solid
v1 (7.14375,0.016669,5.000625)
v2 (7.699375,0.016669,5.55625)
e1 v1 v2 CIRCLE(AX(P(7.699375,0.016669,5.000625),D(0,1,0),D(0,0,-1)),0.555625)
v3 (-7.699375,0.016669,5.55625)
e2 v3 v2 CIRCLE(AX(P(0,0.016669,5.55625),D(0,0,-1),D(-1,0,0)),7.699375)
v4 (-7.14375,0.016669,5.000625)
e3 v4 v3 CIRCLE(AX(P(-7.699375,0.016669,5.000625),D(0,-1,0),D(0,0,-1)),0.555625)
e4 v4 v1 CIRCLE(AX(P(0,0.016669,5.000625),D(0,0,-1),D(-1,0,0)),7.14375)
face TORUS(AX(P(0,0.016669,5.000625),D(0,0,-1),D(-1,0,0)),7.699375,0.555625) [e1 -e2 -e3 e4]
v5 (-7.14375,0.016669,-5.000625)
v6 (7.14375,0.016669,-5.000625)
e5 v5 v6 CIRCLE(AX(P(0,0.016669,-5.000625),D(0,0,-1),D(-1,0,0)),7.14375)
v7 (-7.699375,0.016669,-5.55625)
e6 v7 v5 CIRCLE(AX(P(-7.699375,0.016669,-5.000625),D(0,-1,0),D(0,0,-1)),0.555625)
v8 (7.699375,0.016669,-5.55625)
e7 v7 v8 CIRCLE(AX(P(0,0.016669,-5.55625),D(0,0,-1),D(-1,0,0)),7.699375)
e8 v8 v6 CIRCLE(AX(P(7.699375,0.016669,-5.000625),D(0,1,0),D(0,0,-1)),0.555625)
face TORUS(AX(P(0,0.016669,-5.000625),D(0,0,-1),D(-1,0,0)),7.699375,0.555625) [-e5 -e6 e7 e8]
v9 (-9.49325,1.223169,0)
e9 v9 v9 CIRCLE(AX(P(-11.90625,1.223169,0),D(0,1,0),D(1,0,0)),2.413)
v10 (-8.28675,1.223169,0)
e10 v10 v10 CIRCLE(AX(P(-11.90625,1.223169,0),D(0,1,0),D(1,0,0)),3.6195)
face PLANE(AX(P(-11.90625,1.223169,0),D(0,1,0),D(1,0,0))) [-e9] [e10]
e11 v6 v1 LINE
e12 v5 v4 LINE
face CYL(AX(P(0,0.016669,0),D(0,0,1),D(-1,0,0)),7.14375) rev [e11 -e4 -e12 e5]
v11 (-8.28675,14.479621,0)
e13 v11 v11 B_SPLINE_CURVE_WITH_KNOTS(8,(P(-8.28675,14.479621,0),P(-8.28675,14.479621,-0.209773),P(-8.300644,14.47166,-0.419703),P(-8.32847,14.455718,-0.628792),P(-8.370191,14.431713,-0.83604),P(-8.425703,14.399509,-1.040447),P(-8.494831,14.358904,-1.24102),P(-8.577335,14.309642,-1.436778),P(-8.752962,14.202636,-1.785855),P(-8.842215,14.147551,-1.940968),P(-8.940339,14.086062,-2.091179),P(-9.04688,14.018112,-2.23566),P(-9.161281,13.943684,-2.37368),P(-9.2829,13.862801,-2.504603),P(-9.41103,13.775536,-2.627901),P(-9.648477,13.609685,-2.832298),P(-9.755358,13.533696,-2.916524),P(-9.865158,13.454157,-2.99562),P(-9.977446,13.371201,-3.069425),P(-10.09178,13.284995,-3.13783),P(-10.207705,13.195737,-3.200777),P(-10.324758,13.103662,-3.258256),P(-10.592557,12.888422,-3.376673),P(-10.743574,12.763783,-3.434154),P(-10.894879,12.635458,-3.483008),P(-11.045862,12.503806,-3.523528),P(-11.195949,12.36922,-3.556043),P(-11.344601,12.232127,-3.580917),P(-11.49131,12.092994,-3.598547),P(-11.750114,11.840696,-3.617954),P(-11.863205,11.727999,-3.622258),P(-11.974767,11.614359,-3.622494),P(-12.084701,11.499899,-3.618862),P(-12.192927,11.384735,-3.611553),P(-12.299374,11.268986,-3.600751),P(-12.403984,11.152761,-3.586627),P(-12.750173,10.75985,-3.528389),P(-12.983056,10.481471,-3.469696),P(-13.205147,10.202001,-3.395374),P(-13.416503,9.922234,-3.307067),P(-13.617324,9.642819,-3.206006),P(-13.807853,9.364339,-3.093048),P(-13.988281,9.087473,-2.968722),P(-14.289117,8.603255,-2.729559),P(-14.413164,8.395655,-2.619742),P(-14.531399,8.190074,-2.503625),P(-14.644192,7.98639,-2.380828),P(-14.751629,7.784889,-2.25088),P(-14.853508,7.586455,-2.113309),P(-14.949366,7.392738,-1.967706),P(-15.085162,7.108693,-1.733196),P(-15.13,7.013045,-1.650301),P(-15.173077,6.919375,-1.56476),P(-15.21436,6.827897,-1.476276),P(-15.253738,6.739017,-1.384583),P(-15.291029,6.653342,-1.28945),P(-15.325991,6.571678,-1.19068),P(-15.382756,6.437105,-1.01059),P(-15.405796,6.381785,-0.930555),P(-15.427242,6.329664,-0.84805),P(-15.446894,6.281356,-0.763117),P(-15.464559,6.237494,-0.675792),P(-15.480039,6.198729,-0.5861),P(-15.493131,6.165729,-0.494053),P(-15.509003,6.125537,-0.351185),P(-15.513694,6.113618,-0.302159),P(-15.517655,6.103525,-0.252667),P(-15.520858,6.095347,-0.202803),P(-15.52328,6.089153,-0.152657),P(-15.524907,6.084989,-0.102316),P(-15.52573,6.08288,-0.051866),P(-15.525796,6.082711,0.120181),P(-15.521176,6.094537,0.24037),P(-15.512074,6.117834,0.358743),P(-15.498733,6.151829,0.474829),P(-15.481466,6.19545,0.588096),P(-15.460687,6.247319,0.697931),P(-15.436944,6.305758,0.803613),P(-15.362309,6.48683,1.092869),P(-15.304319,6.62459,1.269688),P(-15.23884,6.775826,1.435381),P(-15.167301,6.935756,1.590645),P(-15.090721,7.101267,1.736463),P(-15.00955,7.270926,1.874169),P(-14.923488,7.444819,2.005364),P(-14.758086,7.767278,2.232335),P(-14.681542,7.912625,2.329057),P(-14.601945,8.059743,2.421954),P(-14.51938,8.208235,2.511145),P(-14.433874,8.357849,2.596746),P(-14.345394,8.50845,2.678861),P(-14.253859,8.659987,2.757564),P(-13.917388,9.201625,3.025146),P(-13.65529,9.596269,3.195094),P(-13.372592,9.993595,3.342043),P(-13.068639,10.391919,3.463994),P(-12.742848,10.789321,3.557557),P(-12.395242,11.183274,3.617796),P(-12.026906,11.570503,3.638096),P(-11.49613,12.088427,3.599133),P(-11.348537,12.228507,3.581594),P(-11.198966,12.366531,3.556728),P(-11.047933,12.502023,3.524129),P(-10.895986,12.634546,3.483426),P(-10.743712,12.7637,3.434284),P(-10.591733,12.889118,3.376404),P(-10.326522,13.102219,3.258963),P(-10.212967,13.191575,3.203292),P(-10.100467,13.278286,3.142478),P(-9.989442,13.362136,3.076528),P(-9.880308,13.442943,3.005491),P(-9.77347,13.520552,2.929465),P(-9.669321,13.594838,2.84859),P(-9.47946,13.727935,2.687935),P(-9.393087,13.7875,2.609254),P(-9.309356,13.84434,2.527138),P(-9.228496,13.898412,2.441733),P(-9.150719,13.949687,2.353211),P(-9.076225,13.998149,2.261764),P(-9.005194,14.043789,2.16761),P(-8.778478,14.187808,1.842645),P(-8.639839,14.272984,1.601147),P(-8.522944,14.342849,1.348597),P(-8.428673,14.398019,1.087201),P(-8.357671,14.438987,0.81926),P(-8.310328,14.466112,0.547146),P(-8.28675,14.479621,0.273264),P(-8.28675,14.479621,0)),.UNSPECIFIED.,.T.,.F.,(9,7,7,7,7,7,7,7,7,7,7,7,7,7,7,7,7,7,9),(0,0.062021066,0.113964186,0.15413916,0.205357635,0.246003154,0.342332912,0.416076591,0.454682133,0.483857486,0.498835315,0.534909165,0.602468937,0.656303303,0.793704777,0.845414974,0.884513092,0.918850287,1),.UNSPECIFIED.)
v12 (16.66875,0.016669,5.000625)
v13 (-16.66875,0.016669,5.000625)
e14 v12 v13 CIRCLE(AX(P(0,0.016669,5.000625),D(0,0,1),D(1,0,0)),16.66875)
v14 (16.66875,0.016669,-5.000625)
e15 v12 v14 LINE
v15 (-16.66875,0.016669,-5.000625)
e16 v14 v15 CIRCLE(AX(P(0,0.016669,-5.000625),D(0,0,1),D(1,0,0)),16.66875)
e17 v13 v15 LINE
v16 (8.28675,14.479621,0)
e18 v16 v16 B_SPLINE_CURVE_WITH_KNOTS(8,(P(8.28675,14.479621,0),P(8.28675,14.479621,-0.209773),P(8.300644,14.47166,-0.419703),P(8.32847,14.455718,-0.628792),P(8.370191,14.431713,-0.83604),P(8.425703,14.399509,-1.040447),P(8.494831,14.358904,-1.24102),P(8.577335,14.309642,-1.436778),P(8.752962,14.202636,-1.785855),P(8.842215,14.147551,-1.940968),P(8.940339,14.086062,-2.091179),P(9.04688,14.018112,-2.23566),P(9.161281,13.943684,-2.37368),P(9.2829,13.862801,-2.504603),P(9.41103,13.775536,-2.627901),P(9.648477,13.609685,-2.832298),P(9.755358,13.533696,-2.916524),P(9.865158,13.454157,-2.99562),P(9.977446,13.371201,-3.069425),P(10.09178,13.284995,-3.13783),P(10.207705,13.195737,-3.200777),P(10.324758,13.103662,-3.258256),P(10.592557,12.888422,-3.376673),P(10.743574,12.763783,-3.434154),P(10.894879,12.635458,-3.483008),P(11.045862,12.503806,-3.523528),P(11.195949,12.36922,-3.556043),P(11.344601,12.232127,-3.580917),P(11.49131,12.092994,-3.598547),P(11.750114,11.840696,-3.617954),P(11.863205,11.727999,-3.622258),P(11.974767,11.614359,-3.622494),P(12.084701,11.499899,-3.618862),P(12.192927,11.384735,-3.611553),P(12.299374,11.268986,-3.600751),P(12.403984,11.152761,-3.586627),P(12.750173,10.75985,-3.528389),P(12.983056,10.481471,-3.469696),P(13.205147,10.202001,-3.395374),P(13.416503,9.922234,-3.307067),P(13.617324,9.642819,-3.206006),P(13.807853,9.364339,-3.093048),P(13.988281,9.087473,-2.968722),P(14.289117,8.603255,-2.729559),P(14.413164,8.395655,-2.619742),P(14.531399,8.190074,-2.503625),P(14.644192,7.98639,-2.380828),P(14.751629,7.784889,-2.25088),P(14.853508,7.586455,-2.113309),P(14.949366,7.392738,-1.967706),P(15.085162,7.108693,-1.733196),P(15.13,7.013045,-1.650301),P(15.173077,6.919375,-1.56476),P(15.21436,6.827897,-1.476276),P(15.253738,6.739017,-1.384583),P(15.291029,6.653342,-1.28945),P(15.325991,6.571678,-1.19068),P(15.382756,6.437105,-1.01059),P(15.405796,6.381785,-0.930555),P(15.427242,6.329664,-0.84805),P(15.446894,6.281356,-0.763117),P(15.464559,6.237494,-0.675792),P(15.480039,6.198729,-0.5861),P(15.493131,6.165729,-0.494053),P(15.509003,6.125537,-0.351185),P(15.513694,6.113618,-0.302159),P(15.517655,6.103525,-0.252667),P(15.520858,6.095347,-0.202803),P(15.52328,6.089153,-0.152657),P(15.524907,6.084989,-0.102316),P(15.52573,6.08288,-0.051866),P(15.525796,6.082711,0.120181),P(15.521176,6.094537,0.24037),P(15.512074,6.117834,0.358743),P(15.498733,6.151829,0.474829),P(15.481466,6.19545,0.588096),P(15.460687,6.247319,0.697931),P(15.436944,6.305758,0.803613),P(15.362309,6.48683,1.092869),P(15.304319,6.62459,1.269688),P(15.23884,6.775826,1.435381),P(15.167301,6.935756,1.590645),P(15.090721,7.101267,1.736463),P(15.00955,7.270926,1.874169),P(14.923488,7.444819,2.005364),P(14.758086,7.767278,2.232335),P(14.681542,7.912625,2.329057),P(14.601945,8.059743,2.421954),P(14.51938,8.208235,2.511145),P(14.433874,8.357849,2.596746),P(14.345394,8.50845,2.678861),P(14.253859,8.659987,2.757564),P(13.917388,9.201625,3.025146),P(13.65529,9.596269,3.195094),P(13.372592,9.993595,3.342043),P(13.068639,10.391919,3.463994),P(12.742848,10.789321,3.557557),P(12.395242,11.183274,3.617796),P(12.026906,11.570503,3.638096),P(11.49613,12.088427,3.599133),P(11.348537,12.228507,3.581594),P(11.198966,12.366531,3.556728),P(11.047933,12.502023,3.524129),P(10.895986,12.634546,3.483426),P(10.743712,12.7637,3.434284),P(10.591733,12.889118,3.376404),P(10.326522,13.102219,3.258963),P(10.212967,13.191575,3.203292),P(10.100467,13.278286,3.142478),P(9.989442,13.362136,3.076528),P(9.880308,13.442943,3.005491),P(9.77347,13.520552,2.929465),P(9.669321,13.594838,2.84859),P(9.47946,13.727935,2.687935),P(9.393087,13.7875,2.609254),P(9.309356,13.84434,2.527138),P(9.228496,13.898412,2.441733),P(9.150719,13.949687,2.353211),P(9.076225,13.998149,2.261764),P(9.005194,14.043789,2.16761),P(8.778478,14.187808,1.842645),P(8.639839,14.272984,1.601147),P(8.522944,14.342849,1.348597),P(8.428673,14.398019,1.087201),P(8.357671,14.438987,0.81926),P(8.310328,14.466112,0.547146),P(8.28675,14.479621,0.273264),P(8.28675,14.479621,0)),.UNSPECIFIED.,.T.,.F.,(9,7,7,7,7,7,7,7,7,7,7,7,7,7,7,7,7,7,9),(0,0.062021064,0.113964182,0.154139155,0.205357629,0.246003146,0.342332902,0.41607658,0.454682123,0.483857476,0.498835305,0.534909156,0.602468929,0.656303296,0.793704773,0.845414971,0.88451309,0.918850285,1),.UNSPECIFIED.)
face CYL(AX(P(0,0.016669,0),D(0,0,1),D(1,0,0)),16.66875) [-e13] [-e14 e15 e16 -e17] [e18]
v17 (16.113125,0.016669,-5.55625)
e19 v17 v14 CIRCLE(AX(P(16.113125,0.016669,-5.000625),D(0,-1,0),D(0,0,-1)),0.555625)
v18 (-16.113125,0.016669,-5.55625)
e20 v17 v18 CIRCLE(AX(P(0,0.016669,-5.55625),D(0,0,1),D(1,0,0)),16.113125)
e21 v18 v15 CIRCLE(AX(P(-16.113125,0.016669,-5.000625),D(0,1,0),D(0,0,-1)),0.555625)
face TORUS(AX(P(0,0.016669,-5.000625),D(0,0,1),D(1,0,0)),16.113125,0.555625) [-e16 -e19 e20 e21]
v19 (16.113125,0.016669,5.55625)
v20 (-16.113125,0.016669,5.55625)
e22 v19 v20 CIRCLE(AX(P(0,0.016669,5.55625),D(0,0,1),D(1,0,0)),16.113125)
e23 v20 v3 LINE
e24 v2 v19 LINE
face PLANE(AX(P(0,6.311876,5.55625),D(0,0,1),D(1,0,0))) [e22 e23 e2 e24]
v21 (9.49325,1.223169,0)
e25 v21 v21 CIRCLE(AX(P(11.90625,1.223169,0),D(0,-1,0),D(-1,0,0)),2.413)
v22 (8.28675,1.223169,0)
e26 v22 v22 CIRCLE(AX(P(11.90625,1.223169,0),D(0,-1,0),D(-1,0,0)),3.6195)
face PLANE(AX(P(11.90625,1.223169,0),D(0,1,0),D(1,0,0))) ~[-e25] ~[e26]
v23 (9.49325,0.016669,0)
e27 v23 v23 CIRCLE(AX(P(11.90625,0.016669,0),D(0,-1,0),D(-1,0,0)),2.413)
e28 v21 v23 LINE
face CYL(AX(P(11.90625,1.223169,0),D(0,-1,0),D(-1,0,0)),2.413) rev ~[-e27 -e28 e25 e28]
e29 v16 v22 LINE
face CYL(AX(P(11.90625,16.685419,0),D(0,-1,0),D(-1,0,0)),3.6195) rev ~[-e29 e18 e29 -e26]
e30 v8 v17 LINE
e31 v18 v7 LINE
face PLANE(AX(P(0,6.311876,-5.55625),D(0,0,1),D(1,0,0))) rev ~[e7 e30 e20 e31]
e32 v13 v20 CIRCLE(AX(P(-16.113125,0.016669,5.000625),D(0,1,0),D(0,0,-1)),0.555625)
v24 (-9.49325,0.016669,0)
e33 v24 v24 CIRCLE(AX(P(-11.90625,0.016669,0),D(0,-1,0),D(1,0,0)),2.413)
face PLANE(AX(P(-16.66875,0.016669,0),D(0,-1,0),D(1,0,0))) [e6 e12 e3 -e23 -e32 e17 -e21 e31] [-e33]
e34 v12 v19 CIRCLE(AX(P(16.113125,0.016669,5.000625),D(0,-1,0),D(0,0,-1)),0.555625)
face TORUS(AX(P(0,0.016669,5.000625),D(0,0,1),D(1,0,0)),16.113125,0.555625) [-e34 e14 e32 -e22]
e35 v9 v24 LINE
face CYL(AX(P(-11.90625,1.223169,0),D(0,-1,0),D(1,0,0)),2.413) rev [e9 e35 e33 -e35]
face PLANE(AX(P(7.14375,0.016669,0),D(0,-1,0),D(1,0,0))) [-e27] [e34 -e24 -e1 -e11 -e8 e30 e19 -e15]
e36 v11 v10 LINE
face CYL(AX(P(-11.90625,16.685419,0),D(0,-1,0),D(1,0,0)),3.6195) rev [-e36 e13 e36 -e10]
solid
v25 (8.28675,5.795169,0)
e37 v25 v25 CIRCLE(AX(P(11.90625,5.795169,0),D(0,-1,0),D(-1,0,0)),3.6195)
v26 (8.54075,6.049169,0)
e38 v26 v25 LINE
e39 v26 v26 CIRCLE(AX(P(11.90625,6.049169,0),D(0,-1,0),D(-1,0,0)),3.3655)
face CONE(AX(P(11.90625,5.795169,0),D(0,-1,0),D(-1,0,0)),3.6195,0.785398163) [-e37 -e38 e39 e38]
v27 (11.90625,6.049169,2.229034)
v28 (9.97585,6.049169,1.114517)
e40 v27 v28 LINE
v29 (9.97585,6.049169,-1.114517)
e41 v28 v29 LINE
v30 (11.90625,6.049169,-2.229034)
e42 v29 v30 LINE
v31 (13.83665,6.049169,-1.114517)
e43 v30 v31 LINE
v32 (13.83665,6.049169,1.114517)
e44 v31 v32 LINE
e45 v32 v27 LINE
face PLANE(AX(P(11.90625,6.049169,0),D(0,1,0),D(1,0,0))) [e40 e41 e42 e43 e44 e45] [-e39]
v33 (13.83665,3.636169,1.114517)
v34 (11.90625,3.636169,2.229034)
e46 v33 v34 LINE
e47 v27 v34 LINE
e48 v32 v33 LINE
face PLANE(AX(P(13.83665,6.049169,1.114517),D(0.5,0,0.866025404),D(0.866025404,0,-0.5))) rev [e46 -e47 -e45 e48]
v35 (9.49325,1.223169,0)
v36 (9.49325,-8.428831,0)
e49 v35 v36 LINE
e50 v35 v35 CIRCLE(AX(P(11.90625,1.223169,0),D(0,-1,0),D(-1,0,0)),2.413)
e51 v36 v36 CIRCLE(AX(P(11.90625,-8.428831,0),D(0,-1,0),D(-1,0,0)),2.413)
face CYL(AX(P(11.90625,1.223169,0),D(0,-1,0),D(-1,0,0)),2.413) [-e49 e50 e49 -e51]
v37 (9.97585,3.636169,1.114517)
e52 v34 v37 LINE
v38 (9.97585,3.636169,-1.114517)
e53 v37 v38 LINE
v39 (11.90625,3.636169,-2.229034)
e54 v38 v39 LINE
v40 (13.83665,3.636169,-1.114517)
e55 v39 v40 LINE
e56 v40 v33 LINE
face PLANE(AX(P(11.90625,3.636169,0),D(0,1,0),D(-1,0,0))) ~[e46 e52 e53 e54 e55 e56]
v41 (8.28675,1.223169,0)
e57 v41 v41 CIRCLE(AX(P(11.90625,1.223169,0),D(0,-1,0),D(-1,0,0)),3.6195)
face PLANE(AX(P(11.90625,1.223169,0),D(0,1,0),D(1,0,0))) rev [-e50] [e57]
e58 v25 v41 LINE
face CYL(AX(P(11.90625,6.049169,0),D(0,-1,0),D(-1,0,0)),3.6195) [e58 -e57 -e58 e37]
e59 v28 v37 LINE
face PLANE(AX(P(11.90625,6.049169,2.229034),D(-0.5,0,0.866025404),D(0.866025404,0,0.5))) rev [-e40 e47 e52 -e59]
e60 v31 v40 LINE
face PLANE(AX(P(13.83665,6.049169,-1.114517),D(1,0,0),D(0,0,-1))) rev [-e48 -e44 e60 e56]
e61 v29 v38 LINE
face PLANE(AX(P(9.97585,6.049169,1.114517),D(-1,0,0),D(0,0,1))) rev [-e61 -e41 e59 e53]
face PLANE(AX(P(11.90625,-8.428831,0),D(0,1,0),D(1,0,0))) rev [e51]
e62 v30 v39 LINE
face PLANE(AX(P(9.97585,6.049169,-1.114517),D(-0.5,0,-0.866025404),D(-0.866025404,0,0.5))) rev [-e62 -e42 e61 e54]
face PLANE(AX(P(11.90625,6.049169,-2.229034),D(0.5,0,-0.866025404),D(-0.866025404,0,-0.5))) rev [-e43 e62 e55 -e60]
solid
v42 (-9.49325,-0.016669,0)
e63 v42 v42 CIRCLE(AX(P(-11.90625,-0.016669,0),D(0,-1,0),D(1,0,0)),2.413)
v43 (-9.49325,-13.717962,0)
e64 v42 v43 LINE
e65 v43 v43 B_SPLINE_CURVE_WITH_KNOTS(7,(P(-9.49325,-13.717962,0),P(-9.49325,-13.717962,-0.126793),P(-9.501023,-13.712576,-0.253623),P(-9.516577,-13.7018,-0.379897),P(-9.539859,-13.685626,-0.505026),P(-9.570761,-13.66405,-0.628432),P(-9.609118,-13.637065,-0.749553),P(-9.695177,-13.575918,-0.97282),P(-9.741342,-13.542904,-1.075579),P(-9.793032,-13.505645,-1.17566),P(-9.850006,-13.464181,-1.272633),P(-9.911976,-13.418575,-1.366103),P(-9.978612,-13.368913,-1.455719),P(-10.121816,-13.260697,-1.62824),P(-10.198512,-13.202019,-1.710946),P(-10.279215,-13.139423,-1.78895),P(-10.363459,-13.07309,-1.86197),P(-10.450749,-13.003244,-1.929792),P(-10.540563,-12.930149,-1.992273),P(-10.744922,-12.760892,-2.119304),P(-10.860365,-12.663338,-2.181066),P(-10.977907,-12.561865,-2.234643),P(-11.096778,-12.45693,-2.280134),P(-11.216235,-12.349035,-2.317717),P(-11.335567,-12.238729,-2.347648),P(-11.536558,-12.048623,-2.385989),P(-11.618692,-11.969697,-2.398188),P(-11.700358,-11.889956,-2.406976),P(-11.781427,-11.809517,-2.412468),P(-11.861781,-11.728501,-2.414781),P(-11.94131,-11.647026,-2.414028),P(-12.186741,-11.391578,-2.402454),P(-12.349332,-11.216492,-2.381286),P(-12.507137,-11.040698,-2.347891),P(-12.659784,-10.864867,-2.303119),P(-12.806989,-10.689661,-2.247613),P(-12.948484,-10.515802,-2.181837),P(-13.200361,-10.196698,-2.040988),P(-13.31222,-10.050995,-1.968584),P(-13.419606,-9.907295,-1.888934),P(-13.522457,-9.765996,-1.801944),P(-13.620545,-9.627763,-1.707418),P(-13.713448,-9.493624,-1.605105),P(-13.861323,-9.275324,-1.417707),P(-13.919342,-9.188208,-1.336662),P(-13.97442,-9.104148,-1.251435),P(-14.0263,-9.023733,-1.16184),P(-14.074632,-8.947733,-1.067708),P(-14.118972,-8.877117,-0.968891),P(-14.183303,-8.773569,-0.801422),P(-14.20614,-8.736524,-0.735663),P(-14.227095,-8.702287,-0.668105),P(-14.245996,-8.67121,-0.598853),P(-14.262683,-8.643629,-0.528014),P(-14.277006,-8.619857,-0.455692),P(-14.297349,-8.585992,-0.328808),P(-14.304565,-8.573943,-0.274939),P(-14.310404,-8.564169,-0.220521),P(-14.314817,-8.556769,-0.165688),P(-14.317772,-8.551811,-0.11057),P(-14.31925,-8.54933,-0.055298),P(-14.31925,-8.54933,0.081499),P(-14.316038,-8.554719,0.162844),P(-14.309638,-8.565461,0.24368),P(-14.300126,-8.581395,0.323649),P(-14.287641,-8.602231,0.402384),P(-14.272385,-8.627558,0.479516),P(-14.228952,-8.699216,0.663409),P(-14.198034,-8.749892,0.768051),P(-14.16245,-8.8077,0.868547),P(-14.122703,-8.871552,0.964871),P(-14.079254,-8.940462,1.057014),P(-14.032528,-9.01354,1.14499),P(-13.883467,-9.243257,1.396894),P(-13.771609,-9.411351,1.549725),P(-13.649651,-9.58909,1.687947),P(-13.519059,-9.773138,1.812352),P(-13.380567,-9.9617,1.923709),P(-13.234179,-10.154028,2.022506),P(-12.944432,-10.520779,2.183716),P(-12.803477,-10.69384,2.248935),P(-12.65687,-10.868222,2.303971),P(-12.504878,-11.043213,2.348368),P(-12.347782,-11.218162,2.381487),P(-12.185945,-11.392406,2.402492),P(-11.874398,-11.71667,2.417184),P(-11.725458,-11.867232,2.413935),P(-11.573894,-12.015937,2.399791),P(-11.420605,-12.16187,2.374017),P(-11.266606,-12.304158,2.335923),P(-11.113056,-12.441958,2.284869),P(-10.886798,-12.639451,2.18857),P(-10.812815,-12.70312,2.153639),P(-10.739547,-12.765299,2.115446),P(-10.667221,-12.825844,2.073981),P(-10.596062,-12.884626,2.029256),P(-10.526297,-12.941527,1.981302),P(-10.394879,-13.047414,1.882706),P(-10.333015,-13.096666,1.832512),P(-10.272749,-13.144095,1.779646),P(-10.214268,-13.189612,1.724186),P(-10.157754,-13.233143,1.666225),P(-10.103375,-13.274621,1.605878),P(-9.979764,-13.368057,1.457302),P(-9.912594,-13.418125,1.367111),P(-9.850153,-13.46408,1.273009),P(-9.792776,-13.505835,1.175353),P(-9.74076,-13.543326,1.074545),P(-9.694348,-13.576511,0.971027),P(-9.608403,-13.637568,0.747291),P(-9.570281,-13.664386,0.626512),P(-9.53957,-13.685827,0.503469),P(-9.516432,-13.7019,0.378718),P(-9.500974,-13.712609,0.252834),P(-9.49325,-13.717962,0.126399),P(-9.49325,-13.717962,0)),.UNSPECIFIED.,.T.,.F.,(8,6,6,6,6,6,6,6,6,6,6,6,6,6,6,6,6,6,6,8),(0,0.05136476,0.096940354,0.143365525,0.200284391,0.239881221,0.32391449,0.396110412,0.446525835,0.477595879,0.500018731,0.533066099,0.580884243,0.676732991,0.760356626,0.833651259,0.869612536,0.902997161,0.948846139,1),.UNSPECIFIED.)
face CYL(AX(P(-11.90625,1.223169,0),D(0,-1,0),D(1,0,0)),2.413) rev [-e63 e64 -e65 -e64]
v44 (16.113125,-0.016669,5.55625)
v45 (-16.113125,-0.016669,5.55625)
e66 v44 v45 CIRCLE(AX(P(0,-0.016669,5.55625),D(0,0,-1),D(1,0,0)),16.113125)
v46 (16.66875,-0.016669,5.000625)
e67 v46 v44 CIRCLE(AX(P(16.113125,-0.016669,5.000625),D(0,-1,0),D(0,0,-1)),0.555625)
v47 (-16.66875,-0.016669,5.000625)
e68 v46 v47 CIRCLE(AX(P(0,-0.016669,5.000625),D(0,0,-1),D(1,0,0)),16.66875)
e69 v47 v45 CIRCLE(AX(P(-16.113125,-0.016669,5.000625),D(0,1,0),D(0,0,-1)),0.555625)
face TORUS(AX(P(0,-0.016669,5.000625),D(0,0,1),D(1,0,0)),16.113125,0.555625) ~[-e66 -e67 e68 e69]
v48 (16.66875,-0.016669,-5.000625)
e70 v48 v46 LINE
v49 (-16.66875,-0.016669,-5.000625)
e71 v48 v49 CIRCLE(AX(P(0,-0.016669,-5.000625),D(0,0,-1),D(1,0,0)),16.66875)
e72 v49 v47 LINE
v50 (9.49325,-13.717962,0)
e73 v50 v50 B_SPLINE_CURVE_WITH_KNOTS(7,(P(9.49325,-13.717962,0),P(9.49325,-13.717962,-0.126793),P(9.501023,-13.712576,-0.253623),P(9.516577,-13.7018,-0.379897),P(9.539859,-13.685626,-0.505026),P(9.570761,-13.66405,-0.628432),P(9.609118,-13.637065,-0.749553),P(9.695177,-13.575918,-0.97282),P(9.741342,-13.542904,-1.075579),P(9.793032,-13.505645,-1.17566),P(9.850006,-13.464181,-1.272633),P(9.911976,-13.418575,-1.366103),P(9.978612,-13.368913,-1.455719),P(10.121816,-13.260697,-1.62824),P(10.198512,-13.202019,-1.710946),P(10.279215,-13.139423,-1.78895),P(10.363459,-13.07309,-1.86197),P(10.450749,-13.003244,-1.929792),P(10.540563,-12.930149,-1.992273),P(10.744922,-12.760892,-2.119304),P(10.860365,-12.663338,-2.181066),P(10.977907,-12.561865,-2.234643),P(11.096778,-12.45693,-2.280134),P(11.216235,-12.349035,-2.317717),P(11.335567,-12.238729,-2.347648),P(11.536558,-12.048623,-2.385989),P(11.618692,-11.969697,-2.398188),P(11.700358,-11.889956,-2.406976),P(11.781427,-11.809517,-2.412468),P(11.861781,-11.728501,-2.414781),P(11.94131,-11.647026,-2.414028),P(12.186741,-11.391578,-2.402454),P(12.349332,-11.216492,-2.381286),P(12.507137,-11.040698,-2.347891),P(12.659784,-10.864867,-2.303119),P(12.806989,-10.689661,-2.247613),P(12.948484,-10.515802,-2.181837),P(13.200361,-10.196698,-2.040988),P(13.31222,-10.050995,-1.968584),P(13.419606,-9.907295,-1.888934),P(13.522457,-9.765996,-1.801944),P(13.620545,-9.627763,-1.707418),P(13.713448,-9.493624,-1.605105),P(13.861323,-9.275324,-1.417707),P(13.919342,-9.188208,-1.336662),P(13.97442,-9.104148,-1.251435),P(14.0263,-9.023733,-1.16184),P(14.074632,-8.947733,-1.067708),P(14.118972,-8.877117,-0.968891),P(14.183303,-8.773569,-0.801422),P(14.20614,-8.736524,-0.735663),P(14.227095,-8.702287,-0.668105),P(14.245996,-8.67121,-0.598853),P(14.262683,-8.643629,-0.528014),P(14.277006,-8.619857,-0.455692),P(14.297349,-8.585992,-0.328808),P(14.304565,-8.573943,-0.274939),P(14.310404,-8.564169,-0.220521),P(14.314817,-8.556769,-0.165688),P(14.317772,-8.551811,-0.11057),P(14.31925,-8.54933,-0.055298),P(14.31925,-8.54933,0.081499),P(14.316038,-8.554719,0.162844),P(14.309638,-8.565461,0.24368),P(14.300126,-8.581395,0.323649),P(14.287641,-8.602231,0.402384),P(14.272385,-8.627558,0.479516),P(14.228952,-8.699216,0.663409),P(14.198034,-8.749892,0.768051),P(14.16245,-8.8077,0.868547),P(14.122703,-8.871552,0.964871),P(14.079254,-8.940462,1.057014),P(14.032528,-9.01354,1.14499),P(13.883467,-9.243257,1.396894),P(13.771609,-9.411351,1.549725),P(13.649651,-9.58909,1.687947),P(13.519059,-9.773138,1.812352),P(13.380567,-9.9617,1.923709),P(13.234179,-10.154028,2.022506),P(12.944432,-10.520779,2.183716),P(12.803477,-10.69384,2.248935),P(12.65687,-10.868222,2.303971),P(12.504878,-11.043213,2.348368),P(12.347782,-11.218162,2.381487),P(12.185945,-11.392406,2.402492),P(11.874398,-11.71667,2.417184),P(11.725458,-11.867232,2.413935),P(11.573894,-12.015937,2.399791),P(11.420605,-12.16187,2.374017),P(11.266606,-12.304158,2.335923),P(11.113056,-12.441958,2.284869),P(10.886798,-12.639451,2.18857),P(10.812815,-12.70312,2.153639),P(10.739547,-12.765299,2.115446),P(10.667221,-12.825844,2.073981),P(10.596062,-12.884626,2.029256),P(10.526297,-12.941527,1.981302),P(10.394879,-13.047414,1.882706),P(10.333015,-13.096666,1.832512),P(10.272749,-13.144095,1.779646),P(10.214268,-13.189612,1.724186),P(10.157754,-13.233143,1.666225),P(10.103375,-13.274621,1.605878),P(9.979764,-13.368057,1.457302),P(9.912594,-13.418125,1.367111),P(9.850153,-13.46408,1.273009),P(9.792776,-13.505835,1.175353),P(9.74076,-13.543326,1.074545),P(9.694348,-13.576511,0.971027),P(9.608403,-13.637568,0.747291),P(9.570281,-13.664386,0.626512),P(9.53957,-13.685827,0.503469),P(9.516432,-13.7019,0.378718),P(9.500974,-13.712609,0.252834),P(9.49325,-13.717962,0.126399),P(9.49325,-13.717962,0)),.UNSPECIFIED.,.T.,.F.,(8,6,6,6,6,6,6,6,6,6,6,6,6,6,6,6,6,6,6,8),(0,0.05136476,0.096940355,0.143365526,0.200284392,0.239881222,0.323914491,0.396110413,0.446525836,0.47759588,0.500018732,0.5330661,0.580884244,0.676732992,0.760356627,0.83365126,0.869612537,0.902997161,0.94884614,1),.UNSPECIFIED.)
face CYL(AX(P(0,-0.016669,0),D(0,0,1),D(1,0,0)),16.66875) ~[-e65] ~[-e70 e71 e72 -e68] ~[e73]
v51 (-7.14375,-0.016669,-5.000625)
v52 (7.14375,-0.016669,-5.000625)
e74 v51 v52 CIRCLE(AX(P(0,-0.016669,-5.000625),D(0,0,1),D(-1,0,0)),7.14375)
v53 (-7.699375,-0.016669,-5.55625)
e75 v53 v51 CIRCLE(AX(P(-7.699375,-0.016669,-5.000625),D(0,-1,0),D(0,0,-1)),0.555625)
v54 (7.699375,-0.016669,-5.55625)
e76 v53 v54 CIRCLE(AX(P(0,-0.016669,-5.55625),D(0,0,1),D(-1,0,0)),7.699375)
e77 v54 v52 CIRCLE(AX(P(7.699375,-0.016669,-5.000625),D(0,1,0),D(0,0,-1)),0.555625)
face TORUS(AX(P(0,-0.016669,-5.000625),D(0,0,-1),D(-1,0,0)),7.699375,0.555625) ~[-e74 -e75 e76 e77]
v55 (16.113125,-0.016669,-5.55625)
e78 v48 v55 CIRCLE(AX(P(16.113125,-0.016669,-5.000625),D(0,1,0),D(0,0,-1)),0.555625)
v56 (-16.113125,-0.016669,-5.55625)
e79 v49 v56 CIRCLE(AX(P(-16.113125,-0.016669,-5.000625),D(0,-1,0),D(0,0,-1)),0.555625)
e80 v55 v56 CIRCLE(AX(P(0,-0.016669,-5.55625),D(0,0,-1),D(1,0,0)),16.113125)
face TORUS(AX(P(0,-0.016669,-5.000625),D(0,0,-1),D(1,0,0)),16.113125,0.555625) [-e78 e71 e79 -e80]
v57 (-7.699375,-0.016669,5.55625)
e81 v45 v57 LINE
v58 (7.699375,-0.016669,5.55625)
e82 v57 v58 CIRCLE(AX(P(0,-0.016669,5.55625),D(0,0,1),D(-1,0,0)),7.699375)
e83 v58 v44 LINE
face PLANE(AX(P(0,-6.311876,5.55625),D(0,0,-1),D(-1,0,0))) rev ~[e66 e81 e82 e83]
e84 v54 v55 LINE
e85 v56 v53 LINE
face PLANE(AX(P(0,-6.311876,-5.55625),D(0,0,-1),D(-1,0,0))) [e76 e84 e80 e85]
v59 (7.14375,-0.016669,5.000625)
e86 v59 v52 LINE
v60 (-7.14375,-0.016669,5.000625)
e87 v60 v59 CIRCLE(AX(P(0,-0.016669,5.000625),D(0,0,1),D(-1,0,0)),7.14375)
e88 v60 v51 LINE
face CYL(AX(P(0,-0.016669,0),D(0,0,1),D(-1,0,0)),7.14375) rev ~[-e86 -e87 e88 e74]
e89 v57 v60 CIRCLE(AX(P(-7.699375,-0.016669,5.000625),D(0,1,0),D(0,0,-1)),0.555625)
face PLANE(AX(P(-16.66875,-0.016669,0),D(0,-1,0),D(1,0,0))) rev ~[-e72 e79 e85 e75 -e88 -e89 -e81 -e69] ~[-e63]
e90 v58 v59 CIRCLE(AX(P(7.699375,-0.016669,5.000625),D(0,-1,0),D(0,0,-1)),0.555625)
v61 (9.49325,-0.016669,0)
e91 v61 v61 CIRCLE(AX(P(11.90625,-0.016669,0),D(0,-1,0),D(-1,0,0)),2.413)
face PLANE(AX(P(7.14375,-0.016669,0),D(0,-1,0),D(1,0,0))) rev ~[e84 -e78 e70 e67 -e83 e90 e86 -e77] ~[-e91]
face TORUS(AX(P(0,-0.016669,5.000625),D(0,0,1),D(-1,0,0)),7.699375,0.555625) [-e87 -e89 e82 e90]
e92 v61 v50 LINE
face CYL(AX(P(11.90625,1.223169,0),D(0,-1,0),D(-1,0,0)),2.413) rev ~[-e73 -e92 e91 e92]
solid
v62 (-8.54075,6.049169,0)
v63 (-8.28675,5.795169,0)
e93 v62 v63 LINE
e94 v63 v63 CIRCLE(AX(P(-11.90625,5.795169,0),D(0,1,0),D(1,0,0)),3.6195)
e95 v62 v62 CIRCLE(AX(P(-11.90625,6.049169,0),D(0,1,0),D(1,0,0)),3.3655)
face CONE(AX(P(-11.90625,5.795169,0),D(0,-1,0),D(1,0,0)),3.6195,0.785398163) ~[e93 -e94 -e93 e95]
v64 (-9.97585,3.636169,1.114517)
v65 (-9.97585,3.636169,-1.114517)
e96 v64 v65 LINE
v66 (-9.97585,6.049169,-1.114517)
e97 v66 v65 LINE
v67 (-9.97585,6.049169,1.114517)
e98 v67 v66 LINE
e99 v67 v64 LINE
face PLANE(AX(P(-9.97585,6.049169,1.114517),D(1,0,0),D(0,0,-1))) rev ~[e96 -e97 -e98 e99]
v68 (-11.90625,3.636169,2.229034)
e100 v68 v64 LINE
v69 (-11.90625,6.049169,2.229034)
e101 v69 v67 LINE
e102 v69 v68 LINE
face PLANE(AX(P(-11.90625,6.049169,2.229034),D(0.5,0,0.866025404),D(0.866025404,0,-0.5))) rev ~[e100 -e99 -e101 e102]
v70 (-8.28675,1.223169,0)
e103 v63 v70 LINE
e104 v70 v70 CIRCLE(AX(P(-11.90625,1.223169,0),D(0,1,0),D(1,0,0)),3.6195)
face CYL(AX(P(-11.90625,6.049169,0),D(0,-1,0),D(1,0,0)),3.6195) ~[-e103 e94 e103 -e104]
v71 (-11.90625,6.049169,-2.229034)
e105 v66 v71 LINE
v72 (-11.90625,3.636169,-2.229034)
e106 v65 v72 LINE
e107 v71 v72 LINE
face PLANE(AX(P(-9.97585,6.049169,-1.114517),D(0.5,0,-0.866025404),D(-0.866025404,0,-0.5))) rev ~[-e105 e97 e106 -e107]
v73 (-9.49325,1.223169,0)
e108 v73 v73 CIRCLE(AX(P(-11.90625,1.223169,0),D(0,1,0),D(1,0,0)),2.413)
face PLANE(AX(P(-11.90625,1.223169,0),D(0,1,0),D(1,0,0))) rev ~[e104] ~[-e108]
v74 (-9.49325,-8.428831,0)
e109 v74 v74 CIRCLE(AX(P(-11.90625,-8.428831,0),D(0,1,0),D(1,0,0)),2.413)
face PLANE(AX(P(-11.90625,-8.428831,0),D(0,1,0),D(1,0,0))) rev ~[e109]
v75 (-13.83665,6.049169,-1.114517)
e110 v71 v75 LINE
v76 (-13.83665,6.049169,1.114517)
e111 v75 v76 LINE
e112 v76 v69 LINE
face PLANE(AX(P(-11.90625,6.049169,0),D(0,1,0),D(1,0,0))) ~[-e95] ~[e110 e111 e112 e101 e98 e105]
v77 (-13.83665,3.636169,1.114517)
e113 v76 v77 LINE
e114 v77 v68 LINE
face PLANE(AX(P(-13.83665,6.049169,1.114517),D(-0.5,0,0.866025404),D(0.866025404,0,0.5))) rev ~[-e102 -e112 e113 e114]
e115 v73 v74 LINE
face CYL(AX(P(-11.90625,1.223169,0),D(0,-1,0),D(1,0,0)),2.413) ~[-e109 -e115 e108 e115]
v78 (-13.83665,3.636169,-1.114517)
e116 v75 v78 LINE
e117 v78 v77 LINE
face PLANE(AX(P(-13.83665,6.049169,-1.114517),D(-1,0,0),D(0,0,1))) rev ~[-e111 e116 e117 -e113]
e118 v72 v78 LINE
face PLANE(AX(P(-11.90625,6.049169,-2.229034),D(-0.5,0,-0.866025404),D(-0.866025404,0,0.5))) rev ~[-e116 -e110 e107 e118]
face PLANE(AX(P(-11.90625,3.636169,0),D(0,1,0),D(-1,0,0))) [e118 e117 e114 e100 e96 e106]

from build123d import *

# Parameters (mm, degrees)
EXTRUDE1_DEPTH     = 5.55625
EXTRUDE1_2_DEPTH   = 5.55625
CUT_EXTRUDE2_DEPTH = 2.413
FILLET1_R          = 0.555625
FILLET2_R          = 0.555625
CHAMFER1_SIZE      = 0.254
CHAMFER2_SIZE      = 0.254


with BuildPart() as part:
    # Sketch1 → Extrude1 (new body, symmetric)
    with BuildSketch(Plane.XY):
        with BuildLine():
            Line((-16.66875, 0.01666875), (-7.14375, 0.01666875))
            ThreePointArc((-7.14375, 0.01666875), (0, 7.16041875), (7.14375, 0.01666875))
            Line((7.14375, 0.01666875), (16.66875, 0.01666875))
            ThreePointArc((16.66875, 0.01666875), (0, 16.68541875), (-16.66875, 0.01666875))
        make_face()
    extrude(amount=EXTRUDE1_DEPTH, both=True)


with BuildPart() as body_2:
    # Sketch1 → Extrude1 2 (new body, symmetric)
    with BuildSketch(Plane.XY):
        with BuildLine():
            Line((-16.66875, -0.01666875), (-7.14375, -0.01666875))
            ThreePointArc((-7.14375, -0.01666875), (0, -7.16041875), (7.14375, -0.01666875))
            Line((7.14375, -0.01666875), (16.66875, -0.01666875))
            ThreePointArc((16.66875, -0.01666875), (0, -16.68541875), (-16.66875, -0.01666875))
        make_face()
    extrude(amount=EXTRUDE1_2_DEPTH, both=True)


with BuildPart() as cut_revolve1_tool:
    # Sketch4 → Cut-Revolve1 (revolve)
    with BuildSketch(Plane.XY):
        Polygon((-11.90625, 16.68541875), (-8.28675, 16.68541875), (-8.28675, 1.22316875), (-9.49325, 1.22316875), (-9.49325, -16.68541875), (-11.90625, -16.68541875), align=None)
    cut_revolve1 = revolve(axis=Axis((-11.90625, -16.68541875, 0), (0, 1, 0)))


with BuildPart() as part_1:
    add(part.part)

    # Cut-Revolve1: cut by cut_revolve1_tool
    add(cut_revolve1_tool.part, mode=Mode.SUBTRACT)


with BuildPart() as body_2_1:
    add(body_2.part)

    # Cut-Revolve1: cut by cut_revolve1_tool
    add(cut_revolve1_tool.part, mode=Mode.SUBTRACT)


with BuildPart() as body_3:
    # Sketch6 → Revolve1 (revolve)
    with BuildSketch(Plane.XY):
        Polygon((-11.90625, 6.04916875), (-8.28675, 6.04916875), (-8.28675, 1.22316875), (-9.49325, 1.22316875), (-9.49325, -8.42883125), (-11.90625, -8.42883125), align=None)
    revolve(axis=Axis((-11.90625, -8.42883125, 0), (0, 1, 0)))

    # Sketch7 → Cut-Extrude2 (cut)
    with BuildSketch(Plane(origin=(0, 6.04916875, 0), x_dir=(-1, 0, 0), z_dir=(0, 1, 0))):
        Polygon((11.90625, -2.229033919), (13.83665, -1.11451696), (13.83665, 1.11451696), (11.90625, 2.229033919), (9.97585, 1.11451696), (9.97585, -1.11451696), align=None)
    extrude(amount=-CUT_EXTRUDE2_DEPTH, mode=Mode.SUBTRACT)


with BuildPart() as mirror1_tool:
    # Mirror1: Cut-Revolve1 across plane
    add(cut_revolve1.mirror(Plane(origin=(0, 0, 0), x_dir=(0, 0, 1), z_dir=(1, 0, 0))))


with BuildPart() as part_2:
    add(part_1.part)

    # Mirror1: cut by mirror1_tool
    add(mirror1_tool.part, mode=Mode.SUBTRACT)

    # Fillet1
    fillet1_edges = [part_2.edges().sort_by_distance(p)[0] for p in [
        (0, 7.16041875, 5.55625),
        (0, 16.68541875, 5.55625),
        (0, 7.16041875, -5.55625),
        (0, 16.68541875, -5.55625),
    ]]
    fillet(fillet1_edges, radius=FILLET1_R)


with BuildPart() as body_2_2:
    add(body_2_1.part)

    # Mirror1: cut by mirror1_tool
    add(mirror1_tool.part, mode=Mode.SUBTRACT)

    # Fillet2
    fillet2_edges = [body_2_2.edges().sort_by_distance(p)[0] for p in [
        (0, -7.16041875, 5.55625),
        (0, -16.68541875, 5.55625),
        (0, -7.16041875, -5.55625),
        (0, -16.68541875, -5.55625),
    ]]
    fillet(fillet2_edges, radius=FILLET2_R)


with BuildPart() as body_4:
    # Mirror2: mirrored copy
    add(body_3.part.mirror(Plane(origin=(0, 0, 0), x_dir=(0, 0, 1), z_dir=(1, 0, 0))))

    # Chamfer1
    chamfer1_edges = [body_4.edges().sort_by_distance(p)[0] for p in [
        (15.52575, 6.04916875, 0),
    ]]
    chamfer(chamfer1_edges, length=CHAMFER1_SIZE)


with BuildPart() as body_3_1:
    add(body_3.part)

    # Chamfer2
    chamfer2_edges = [body_3_1.edges().sort_by_distance(p)[0] for p in [
        (-15.52575, 6.04916875, 0),
    ]]
    chamfer(chamfer2_edges, length=CHAMFER2_SIZE)


solid = Compound([part_2.part, body_2_2.part, body_4.part, body_3_1.part])
